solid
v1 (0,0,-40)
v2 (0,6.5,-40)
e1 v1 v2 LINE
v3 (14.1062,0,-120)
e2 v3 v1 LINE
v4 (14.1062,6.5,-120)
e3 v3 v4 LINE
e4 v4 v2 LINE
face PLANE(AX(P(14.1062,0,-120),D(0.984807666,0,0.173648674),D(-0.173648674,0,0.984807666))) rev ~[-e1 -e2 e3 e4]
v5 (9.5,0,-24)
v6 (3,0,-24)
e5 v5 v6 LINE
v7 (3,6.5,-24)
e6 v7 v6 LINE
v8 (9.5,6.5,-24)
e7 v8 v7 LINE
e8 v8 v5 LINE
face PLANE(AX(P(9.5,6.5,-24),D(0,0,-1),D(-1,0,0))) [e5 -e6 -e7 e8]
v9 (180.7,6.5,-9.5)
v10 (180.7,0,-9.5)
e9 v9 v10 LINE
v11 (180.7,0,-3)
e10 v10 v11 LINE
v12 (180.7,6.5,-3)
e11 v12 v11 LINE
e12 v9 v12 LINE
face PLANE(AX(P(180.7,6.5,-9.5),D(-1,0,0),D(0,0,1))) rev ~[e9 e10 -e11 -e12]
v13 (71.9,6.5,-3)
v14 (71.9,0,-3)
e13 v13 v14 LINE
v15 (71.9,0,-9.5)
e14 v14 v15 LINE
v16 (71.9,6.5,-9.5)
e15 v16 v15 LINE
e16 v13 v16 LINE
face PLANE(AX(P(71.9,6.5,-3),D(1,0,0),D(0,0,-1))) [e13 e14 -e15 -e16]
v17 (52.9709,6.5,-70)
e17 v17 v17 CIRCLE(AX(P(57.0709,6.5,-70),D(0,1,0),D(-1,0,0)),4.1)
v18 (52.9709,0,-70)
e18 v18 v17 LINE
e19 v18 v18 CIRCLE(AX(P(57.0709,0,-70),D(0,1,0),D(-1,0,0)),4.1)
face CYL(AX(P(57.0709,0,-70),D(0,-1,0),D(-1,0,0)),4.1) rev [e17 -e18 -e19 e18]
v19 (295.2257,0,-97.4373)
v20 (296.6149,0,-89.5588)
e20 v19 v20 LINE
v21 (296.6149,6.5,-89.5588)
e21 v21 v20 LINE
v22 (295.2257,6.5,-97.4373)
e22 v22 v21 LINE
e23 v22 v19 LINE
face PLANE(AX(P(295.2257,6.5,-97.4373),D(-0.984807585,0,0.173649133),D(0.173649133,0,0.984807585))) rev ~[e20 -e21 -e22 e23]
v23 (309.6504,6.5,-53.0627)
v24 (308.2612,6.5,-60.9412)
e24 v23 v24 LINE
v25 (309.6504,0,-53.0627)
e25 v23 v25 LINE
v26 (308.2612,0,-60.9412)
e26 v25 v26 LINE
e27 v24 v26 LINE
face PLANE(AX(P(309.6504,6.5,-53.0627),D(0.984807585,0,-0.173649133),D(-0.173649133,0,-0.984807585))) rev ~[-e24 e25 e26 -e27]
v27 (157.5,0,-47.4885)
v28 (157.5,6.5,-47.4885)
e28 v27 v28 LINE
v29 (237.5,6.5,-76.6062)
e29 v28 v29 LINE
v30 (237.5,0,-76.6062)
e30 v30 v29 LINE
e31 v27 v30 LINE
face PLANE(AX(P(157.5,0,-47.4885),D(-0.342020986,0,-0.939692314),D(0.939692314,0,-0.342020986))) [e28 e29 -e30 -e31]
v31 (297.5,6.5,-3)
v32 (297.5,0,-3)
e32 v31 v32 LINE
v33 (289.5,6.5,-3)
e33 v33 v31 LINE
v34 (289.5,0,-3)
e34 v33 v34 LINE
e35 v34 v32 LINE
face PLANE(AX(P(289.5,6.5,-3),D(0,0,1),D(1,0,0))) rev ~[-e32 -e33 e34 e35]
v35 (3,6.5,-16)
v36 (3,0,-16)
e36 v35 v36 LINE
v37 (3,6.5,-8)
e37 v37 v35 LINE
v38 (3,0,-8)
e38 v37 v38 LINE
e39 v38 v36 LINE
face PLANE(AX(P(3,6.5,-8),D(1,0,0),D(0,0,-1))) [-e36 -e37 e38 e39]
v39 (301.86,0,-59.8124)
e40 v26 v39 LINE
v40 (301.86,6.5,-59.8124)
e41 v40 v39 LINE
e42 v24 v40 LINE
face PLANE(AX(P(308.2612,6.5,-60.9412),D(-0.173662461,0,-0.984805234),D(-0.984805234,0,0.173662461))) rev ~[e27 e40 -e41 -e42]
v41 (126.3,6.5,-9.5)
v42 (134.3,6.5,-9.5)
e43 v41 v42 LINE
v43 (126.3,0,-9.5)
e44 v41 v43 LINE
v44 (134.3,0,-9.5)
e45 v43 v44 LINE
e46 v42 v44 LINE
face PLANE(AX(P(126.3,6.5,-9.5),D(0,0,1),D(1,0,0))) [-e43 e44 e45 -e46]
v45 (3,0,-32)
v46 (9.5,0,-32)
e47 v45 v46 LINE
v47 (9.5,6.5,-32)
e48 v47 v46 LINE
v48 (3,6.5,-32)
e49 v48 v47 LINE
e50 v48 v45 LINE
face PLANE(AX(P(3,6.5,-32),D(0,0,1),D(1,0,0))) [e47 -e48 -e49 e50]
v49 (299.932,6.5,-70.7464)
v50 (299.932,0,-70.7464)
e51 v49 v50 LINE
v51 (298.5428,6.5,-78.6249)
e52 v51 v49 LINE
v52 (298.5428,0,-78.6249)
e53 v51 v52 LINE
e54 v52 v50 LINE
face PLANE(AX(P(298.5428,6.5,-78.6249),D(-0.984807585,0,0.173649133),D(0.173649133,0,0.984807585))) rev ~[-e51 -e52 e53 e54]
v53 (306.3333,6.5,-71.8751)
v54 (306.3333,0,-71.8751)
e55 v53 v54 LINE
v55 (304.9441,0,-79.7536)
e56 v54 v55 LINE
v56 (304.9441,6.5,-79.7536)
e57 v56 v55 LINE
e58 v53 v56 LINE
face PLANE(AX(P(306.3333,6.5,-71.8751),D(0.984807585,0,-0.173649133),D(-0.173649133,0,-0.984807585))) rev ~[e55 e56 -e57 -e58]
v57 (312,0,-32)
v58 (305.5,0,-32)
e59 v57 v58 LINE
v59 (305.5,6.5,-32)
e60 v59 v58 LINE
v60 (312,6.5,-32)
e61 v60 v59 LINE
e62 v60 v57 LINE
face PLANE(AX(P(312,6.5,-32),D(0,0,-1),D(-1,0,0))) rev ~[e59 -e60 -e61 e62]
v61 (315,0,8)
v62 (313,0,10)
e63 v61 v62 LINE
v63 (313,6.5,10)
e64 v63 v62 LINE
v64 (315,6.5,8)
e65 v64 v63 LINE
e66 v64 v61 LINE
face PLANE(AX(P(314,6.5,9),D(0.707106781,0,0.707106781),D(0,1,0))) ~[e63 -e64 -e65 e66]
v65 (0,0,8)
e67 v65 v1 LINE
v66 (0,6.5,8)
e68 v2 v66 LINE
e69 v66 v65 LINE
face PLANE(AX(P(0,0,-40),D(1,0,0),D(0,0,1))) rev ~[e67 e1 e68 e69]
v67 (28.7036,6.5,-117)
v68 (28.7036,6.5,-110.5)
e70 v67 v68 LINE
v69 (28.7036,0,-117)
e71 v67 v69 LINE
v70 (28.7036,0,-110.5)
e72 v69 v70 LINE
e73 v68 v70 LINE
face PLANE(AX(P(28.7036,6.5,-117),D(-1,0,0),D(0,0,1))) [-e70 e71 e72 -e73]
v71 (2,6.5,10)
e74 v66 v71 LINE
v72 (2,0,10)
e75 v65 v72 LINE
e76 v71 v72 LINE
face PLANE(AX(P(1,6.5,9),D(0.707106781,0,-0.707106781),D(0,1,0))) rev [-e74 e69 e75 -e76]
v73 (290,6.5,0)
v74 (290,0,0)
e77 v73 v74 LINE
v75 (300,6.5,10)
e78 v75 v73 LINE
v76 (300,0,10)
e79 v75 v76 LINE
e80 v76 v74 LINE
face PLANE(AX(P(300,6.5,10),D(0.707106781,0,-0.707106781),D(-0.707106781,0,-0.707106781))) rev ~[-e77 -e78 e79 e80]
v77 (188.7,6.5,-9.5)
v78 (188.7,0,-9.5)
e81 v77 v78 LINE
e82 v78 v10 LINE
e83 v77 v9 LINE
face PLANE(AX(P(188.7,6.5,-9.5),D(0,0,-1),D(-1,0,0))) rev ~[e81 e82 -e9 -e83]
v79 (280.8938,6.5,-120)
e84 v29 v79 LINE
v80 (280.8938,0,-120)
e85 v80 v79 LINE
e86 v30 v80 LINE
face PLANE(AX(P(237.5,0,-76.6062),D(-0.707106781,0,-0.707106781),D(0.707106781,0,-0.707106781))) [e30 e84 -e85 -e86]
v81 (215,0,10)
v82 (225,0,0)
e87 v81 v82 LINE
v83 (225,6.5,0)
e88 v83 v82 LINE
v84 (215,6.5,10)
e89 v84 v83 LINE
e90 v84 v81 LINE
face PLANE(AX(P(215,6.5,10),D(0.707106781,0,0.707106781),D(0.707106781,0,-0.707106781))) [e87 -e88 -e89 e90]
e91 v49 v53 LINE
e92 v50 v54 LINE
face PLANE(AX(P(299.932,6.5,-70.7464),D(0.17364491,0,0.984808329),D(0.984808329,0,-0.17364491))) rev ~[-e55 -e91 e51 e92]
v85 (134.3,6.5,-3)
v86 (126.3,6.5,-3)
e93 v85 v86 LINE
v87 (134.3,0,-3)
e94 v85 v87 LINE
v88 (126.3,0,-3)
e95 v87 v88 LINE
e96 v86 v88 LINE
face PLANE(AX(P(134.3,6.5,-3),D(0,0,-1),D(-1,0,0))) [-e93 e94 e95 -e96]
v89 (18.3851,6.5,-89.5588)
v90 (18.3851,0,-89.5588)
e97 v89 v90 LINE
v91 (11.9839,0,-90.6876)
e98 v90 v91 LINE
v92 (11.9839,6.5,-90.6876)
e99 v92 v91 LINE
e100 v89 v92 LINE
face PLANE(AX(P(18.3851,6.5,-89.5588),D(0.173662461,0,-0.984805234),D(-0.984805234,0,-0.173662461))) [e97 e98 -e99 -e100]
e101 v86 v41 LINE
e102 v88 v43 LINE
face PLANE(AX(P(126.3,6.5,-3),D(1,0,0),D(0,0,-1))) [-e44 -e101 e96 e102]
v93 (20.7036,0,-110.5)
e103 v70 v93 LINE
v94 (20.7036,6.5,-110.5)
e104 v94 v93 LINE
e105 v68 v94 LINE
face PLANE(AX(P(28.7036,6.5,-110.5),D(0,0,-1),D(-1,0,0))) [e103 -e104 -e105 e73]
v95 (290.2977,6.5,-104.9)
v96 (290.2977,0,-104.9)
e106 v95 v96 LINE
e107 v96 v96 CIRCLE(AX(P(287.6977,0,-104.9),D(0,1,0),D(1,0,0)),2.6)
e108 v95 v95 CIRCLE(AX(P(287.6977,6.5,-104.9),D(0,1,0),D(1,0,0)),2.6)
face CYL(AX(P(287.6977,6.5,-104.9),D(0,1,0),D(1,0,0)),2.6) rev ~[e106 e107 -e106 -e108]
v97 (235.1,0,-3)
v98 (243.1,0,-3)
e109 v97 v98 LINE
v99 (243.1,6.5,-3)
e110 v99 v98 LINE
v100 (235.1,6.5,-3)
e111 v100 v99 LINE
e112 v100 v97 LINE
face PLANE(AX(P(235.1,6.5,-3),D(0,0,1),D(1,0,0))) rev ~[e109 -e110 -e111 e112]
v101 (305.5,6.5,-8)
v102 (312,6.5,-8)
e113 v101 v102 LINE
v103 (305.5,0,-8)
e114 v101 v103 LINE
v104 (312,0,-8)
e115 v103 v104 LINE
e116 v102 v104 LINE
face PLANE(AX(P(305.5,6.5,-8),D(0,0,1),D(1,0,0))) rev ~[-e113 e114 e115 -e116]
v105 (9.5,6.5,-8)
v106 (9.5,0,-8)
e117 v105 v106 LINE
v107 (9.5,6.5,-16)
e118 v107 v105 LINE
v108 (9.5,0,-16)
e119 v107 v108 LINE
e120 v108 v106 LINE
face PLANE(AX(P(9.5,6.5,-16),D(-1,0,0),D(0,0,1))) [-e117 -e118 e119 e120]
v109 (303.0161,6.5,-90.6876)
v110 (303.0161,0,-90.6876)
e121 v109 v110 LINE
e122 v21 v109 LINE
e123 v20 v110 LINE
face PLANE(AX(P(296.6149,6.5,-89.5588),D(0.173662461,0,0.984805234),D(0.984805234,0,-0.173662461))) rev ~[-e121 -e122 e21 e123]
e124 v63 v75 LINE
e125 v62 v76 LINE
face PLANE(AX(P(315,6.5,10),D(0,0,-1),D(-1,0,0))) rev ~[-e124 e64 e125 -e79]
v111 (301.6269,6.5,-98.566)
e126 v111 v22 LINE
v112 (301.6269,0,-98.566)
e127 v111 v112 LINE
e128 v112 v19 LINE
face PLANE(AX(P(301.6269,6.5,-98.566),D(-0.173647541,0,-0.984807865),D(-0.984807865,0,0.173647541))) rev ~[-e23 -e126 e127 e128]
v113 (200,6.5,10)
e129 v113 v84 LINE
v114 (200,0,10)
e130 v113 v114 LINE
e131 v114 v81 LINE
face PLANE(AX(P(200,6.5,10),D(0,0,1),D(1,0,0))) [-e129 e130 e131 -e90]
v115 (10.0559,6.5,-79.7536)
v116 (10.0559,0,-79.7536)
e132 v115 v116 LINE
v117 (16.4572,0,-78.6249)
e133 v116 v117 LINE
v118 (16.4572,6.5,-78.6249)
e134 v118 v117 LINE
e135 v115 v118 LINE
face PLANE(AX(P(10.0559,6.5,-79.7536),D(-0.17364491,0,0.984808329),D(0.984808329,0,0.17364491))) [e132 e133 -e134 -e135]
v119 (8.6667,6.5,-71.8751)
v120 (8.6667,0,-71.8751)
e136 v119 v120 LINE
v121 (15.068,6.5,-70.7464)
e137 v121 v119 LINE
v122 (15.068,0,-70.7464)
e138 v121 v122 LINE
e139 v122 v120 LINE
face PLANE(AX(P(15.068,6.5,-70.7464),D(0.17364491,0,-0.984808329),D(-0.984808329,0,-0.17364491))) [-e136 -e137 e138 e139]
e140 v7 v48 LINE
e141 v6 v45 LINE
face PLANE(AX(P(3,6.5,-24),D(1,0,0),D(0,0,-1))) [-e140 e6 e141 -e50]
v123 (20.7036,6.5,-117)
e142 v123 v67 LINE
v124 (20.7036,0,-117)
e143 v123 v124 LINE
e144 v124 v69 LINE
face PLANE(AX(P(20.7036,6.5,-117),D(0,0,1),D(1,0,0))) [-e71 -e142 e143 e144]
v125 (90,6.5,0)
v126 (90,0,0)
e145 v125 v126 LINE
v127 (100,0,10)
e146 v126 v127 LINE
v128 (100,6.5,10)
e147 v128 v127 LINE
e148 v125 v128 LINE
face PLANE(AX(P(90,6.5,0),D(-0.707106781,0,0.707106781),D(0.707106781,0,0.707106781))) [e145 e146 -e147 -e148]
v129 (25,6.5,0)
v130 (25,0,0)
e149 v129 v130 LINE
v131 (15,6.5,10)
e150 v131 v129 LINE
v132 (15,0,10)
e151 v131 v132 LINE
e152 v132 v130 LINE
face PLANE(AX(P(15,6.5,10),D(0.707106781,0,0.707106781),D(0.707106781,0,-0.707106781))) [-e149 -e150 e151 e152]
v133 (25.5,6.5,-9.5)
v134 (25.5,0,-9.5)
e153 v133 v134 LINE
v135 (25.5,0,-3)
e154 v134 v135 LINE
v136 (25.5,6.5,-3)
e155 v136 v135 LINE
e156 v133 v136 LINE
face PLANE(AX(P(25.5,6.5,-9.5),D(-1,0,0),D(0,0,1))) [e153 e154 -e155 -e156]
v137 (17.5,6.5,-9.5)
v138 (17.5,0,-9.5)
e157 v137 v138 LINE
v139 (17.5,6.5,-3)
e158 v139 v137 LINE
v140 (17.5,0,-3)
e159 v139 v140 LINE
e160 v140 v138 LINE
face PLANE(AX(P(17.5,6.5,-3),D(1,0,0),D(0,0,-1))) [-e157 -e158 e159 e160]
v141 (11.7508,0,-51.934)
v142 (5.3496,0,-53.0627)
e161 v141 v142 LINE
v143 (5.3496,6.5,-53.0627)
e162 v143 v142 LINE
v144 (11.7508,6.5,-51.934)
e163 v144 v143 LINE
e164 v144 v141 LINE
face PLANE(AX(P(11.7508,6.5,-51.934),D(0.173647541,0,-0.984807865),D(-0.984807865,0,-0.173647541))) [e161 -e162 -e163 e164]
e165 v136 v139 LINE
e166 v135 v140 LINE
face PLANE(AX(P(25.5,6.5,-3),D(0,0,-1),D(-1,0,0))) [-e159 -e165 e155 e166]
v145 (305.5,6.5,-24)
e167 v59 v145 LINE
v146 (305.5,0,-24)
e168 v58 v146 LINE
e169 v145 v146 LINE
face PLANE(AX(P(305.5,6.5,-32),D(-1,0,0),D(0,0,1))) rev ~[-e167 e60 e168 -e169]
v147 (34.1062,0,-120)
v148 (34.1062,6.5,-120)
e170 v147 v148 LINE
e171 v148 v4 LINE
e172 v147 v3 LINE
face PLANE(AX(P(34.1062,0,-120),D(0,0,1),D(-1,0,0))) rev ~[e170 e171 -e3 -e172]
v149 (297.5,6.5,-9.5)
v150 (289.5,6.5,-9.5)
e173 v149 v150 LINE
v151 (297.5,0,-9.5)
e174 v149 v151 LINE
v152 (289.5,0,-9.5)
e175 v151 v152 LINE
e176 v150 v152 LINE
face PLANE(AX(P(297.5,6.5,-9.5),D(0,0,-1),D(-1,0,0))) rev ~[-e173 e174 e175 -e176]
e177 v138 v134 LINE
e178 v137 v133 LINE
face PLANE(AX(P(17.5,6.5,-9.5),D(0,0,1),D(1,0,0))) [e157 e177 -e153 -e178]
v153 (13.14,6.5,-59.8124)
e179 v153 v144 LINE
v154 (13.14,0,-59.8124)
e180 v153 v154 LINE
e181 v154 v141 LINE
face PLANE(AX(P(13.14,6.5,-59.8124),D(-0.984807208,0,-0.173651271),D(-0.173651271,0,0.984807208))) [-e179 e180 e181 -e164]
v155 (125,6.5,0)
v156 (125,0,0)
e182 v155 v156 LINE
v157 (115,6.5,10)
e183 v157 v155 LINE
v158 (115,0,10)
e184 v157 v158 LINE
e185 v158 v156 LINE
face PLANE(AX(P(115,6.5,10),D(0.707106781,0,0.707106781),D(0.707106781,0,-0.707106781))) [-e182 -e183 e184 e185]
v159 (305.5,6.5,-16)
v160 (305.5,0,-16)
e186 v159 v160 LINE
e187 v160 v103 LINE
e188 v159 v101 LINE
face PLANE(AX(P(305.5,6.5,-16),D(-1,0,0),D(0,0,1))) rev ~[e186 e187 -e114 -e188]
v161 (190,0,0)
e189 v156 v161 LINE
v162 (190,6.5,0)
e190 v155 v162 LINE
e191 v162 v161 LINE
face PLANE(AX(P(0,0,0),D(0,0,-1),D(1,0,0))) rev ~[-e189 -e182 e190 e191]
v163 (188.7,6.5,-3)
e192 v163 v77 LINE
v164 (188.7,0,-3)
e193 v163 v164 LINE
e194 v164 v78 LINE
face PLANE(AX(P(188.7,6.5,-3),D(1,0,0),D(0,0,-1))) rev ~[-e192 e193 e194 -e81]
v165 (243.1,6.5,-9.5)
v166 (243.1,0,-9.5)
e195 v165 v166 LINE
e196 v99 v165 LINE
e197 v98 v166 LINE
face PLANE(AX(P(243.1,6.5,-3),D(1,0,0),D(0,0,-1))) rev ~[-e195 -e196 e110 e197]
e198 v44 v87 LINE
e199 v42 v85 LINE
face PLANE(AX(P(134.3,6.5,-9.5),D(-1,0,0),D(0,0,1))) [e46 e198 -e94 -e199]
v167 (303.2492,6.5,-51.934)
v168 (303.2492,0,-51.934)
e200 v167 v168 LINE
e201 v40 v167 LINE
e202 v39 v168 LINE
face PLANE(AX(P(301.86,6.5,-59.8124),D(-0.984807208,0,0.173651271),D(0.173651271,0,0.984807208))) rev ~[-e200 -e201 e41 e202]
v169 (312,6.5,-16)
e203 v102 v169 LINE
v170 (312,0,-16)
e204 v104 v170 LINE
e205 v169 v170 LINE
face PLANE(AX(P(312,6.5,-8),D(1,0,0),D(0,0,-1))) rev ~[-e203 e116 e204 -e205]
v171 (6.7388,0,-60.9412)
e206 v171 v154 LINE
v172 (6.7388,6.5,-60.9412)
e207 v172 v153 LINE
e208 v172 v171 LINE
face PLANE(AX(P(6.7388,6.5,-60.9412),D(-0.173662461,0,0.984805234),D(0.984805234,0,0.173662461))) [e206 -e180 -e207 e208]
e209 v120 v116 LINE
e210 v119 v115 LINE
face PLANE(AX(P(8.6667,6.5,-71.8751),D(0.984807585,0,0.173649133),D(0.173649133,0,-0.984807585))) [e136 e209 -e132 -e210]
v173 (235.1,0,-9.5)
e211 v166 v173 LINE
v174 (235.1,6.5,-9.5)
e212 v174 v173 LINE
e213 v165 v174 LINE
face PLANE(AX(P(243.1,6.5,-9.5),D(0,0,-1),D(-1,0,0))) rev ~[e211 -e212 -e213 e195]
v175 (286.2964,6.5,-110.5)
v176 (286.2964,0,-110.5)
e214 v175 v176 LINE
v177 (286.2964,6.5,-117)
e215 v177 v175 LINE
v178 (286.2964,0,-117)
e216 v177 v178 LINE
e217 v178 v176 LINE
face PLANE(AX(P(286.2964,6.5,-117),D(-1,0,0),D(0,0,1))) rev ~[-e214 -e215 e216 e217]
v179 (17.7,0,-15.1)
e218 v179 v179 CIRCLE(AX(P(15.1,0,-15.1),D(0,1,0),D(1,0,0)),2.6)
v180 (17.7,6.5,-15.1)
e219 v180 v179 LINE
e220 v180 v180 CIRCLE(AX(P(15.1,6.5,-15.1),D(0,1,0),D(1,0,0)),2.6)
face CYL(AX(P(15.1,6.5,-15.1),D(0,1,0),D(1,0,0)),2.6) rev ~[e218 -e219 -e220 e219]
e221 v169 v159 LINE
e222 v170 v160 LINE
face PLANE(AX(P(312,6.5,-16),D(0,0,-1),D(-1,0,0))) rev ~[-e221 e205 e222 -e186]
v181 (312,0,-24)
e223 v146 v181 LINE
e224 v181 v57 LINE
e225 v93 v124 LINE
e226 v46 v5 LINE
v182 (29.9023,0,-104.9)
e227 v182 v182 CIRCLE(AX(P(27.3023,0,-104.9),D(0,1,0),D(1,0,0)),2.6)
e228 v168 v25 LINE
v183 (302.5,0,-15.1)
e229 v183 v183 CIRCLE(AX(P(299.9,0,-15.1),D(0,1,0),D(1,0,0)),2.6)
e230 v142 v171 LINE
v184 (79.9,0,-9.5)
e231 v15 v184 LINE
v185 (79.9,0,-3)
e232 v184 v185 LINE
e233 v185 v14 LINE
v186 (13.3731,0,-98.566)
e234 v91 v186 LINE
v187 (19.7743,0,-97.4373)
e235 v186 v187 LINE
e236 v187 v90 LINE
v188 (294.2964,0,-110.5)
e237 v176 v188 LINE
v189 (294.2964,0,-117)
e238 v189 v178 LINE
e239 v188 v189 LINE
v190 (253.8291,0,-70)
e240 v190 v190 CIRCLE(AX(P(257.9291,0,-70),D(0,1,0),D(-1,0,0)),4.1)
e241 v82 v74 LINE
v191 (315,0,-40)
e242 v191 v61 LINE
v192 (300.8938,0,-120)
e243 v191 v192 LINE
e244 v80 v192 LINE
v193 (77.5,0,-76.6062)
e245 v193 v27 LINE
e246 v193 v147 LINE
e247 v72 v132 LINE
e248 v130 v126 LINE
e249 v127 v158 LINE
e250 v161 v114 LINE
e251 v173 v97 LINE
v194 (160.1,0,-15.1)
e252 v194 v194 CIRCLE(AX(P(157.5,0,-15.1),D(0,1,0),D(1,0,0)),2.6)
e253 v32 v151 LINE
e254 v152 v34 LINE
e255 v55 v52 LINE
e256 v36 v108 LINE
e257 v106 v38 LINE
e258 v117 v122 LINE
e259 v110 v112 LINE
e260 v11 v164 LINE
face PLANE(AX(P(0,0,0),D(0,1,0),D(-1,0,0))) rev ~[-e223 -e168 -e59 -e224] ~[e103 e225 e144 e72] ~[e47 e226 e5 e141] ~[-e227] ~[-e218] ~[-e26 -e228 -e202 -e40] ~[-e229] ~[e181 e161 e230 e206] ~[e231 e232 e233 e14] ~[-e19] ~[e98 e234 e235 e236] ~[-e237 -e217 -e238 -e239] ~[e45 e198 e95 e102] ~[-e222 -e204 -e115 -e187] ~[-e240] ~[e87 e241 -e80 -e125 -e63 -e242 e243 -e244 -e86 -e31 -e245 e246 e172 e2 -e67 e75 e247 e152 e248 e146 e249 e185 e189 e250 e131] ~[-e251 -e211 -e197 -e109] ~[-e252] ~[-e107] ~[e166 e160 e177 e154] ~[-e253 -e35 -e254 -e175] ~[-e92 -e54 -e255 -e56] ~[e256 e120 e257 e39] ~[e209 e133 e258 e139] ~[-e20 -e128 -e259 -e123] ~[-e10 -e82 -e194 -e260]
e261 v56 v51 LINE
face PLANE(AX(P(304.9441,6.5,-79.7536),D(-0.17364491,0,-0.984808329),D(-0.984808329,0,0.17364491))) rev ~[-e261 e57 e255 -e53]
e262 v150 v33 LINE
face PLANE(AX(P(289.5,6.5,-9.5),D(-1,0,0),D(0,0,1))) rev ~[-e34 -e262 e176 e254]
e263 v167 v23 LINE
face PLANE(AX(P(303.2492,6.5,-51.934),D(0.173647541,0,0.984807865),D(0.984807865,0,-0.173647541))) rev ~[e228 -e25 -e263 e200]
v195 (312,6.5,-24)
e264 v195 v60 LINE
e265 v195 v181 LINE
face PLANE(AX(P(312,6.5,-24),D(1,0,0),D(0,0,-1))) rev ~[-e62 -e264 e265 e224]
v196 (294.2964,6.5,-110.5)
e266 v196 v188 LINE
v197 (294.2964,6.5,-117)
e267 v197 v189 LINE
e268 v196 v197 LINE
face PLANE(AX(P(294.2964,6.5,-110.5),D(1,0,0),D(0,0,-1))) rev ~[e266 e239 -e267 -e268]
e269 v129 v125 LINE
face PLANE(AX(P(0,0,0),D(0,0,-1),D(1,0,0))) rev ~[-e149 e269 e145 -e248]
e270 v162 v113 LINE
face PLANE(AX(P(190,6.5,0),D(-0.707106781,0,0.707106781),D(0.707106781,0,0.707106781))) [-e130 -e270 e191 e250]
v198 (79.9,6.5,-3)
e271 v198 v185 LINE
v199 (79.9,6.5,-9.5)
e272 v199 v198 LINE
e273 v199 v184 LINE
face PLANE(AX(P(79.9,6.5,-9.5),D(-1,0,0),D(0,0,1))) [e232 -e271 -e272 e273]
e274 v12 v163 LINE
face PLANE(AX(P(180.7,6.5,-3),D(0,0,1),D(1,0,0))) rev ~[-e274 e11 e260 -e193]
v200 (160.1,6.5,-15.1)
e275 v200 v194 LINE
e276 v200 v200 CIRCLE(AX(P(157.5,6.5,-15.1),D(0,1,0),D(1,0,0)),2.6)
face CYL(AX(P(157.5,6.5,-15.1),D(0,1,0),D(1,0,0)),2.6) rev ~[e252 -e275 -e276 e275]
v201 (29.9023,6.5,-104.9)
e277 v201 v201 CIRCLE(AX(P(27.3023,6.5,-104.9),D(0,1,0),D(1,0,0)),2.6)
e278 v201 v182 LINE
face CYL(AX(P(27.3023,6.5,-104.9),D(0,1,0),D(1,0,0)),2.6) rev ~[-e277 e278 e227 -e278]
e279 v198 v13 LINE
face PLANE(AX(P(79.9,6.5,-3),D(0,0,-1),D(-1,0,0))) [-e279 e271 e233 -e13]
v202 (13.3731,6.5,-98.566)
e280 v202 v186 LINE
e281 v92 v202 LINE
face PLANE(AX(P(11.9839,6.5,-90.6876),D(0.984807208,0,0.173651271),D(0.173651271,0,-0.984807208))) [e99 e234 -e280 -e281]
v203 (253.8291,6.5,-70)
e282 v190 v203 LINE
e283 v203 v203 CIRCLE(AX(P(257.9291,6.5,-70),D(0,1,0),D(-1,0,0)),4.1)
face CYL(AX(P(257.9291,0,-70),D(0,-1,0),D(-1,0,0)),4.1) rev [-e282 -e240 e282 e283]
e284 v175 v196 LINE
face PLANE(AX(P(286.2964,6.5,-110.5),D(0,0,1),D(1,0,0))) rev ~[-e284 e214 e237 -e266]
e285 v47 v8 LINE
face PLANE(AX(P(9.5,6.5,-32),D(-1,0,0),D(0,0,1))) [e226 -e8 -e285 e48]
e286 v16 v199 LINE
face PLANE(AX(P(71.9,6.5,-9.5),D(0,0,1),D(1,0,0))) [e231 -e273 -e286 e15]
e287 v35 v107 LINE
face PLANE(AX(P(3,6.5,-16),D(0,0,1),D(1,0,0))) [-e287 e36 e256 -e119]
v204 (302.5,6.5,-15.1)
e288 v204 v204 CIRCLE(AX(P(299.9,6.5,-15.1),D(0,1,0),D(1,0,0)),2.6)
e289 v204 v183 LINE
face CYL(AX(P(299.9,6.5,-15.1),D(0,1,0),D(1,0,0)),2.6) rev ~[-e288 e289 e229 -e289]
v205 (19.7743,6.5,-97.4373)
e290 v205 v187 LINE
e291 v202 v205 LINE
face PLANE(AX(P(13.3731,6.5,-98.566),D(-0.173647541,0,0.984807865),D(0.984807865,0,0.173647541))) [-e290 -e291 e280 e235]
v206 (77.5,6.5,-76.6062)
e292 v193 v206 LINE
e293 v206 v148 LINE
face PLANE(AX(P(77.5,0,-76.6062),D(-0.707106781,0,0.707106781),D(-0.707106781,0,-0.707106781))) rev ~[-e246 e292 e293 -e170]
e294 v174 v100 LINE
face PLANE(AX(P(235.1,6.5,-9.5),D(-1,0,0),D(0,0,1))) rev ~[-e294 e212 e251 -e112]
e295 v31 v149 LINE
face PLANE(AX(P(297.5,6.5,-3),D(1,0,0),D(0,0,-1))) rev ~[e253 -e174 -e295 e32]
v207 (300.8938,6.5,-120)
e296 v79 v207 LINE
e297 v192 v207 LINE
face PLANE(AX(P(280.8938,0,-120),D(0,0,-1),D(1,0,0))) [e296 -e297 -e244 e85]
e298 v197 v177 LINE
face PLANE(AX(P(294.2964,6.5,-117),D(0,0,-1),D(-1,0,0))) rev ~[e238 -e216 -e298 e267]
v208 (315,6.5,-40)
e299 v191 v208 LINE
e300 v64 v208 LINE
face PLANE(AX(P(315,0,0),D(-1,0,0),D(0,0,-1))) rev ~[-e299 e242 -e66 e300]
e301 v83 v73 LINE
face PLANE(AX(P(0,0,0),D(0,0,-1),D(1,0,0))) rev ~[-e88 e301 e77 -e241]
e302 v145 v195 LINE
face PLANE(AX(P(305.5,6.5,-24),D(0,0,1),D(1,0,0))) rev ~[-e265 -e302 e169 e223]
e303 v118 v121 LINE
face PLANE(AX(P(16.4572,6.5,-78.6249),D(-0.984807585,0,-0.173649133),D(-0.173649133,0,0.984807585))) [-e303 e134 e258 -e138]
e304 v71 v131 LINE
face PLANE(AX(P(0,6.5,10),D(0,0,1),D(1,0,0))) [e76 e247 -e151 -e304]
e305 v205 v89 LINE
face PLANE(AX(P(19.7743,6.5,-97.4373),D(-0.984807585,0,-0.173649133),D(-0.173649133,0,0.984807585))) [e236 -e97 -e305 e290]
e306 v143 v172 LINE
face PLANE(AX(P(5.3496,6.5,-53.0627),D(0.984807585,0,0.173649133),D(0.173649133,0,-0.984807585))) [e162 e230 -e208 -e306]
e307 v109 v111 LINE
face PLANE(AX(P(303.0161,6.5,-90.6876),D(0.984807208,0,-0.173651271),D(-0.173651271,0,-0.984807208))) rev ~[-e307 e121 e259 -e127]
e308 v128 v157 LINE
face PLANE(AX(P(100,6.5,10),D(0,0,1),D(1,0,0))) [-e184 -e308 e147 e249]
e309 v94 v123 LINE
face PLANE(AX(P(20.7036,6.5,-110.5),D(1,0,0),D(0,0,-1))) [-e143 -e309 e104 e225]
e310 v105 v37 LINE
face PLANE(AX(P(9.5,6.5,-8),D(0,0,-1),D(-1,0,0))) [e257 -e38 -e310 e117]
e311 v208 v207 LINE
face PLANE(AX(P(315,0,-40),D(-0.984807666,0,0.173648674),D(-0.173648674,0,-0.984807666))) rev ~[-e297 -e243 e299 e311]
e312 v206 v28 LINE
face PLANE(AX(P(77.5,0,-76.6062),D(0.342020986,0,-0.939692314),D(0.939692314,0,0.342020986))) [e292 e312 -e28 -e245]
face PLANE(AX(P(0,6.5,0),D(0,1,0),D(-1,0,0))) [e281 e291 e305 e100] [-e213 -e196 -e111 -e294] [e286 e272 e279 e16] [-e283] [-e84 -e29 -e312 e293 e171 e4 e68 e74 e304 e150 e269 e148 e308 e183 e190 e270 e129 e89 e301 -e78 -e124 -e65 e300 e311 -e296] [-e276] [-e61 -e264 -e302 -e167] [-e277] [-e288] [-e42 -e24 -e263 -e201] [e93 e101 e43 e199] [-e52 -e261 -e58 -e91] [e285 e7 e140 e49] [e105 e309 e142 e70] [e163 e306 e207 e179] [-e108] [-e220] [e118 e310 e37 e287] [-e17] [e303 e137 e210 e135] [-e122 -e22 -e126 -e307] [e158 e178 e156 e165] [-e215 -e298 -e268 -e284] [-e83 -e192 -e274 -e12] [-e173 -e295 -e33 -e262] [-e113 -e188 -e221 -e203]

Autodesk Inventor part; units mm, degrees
ref_plane "YZ Plane" through (0, 0, 0) normal (1, 0, 0) x (0, 1, 0)
ref_plane "XZ Plane" through (0, 0, 0) normal (0, 1, 0) x (-1, 0, 0)
ref_plane "XY Plane" through (0, 0, 0) normal (0, 0, 1) x (1, 0, 0)
sketch "Sketch1" plane through (0, 0, 0) normal (0, 1, 0) x (-1, 0, 0)
  line L0 (-77.5, -76.6062) -> (-157.5, -47.4885)
  line L1 (-157.5, -47.4885) -> (-237.5, -76.6062)
  line L2 (-77.5, -76.6062) -> (-34.1062, -120)
  line L3 (-237.5, -76.6062) -> (-280.8938, -120)
  circle A0 centre (-157.5, -172.5) radius 132.5 construction
  line L4 (-280.8938, -120) -> (-300.8938, -120)
  line L5 (-34.1062, -120) -> (-14.1062, -120)
  circle A1 centre (-57.0709, -70) radius 11 construction
  circle A2 centre (-257.9291, -70) radius 11 construction
  line L6 (-14.1062, -120) -> (0, -40)
  line L7 (0, -40) -> (0, 0)
  line L8 (0, 0) -> (-315, 0)
  line L9 (-315, 0) -> (-315, -40)
  line L10 (-315, -40) -> (-300.8938, -120)
  circle A3 centre (-57.0709, -70) radius 4.1
  circle A4 centre (-257.9291, -70) radius 4.1
  dimension "d0" = 140
  dimension "d1" = 90
  dimension "d2" = 160
  dimension "d3" = 265
  dimension "d4" = 20
  dimension "d5" = 22
  dimension "d6" = 40
  dimension "d7" = 10
  dimension "d8" = 10
  dimension "d9" = 80
  dimension "d10" = 172.5
  dimension "d11" = 315
  dimension "d12" = 8.2
  dimension "d13" = 70
extrude "Extrusion1" add sketch "Sketch1" along normal blind 6.5
sketch "Sketch4" plane through (0, 6.5, 0) normal (0, 1, 0) x (1, 0, 0)
  line L0 (0, 40) -> (0, 0) projected
  line L1 (0, 0) -> (315, 0) projected
  line L2 (315, 0) -> (315, 40) projected
  line L3 (34.1062, 120) -> (14.1062, 120) projected
  line L4 (14.1062, 120) -> (0, 40) projected
  line L5 (9.5, 9.5) -> (305.5, 9.5) construction
  line L6 (305.5, 9.5) -> (305.5, 3) construction
  line L7 (305.5, 3) -> (9.5, 3) construction
  line L8 (9.5, 3) -> (9.5, 9.5) construction
  line L9 (15.301, 117) -> (34.1062, 117) construction
  line L10 (34.1062, 117) -> (34.1062, 110.5) construction
  line L11 (34.1062, 110.5) -> (15.301, 110.5) construction
  line L12 (15.301, 110.5) -> (15.301, 117) construction
  line L13 (3, 40) -> (9.5, 40) construction
  line L14 (9.5, 40) -> (9.5, 0) construction
  line L15 (9.5, 0) -> (3, 0) construction
  line L16 (3, 0) -> (3, 40) construction
  line L17 (15.301, 109.5) -> (21.7023, 108.3713) construction
  line L18 (21.7023, 108.3713) -> (9.8229, 41) construction
  line L19 (9.8229, 41) -> (3.4216, 42.1287) construction
  line L20 (3.4216, 42.1287) -> (15.301, 109.5) construction
  line L21 (157.5, 47.4885) -> (157.5, 0) construction
  line L22 (17.5, 9.5) -> (25.5, 9.5)
  line L23 (25.5, 9.5) -> (25.5, 3)
  line L24 (25.5, 3) -> (17.5, 3)
  line L25 (17.5, 3) -> (17.5, 9.5)
  line L26 (71.9, 9.5) -> (79.9, 9.5)
  line L27 (79.9, 9.5) -> (79.9, 3)
  line L28 (79.9, 3) -> (71.9, 3)
  line L29 (71.9, 3) -> (71.9, 9.5)
  line L30 (126.3, 9.5) -> (134.3, 9.5)
  line L31 (134.3, 9.5) -> (134.3, 3)
  line L32 (134.3, 3) -> (126.3, 3)
  line L33 (126.3, 3) -> (126.3, 9.5)
  line L34 (3, 32) -> (9.5, 32)
  line L35 (9.5, 32) -> (9.5, 24)
  line L36 (9.5, 24) -> (3, 24)
  line L37 (3, 24) -> (3, 32)
  line L38 (3, 16) -> (9.5, 16)
  line L39 (9.5, 16) -> (9.5, 8)
  line L40 (9.5, 8) -> (3, 8)
  line L41 (3, 8) -> (3, 16)
  line L42 (20.7036, 117) -> (28.7036, 117)
  line L43 (28.7036, 117) -> (28.7036, 110.5)
  line L44 (28.7036, 110.5) -> (20.7036, 110.5)
  line L45 (20.7036, 110.5) -> (20.7036, 117)
  line L46 (13.3731, 98.566) -> (19.7743, 97.4373)
  line L47 (19.7743, 97.4373) -> (18.3851, 89.5588)
  line L48 (18.3851, 89.5588) -> (11.9839, 90.6876)
  line L49 (11.9839, 90.6876) -> (13.3731, 98.566)
  line L50 (10.0559, 79.7536) -> (16.4572, 78.6249)
  line L51 (16.4572, 78.6249) -> (15.068, 70.7464)
  line L52 (15.068, 70.7464) -> (8.6667, 71.8751)
  line L53 (8.6667, 71.8751) -> (10.0559, 79.7536)
  line L54 (6.7388, 60.9412) -> (13.14, 59.8124)
  line L55 (13.14, 59.8124) -> (11.7508, 51.934)
  line L56 (11.7508, 51.934) -> (5.3496, 53.0627)
  line L57 (5.3496, 53.0627) -> (6.7388, 60.9412)
  line L58 (9.9394, 60.3768) -> (11.8673, 71.3108) construction
  line L59 (8.5502, 52.4983) -> (6.6223, 41.5644) construction
  line L60 (13.2565, 79.1892) -> (15.1845, 90.1232) construction
  line L61 (16.5737, 98.0017) -> (18.5016, 108.9356) construction
  line L62 (6.25, 40) -> (6.25, 32) construction
  line L63 (6.25, 24) -> (6.25, 16) construction
  line L64 (6.25, 8) -> (6.25, 0) construction
  line L65 (25.5, 6.25) -> (71.9, 6.25) construction
  line L66 (79.9, 6.25) -> (126.3, 6.25) construction
  line L67 (134.3, 6.25) -> (180.7, 6.25) construction
  line L68 (297.5, 9.5) -> (289.5, 9.5)
  line L69 (289.5, 9.5) -> (289.5, 3)
  line L70 (289.5, 3) -> (297.5, 3)
  line L71 (297.5, 3) -> (297.5, 9.5)
  line L72 (243.1, 9.5) -> (235.1, 9.5)
  line L73 (235.1, 9.5) -> (235.1, 3)
  line L74 (235.1, 3) -> (243.1, 3)
  line L75 (243.1, 3) -> (243.1, 9.5)
  line L76 (188.7, 9.5) -> (180.7, 9.5)
  line L77 (180.7, 9.5) -> (180.7, 3)
  line L78 (180.7, 3) -> (188.7, 3)
  line L79 (188.7, 3) -> (188.7, 9.5)
  line L80 (312, 32) -> (305.5, 32)
  line L81 (305.5, 32) -> (305.5, 24)
  line L82 (305.5, 24) -> (312, 24)
  line L83 (312, 24) -> (312, 32)
  line L84 (312, 16) -> (305.5, 16)
  line L85 (305.5, 16) -> (305.5, 8)
  line L86 (305.5, 8) -> (312, 8)
  line L87 (312, 8) -> (312, 16)
  line L88 (294.2964, 117) -> (286.2964, 117)
  line L89 (286.2964, 117) -> (286.2964, 110.5)
  line L90 (286.2964, 110.5) -> (294.2964, 110.5)
  line L91 (294.2964, 110.5) -> (294.2964, 117)
  line L92 (301.6269, 98.566) -> (295.2257, 97.4373)
  line L93 (295.2257, 97.4373) -> (296.6149, 89.5588)
  line L94 (296.6149, 89.5588) -> (303.0161, 90.6876)
  line L95 (303.0161, 90.6876) -> (301.6269, 98.566)
  line L96 (304.9441, 79.7536) -> (298.5428, 78.6249)
  line L97 (298.5428, 78.6249) -> (299.932, 70.7464)
  line L98 (299.932, 70.7464) -> (306.3333, 71.8751)
  line L99 (306.3333, 71.8751) -> (304.9441, 79.7536)
  line L100 (308.2612, 60.9412) -> (301.86, 59.8124)
  line L101 (301.86, 59.8124) -> (303.2492, 51.934)
  line L102 (303.2492, 51.934) -> (309.6504, 53.0627)
  line L103 (309.6504, 53.0627) -> (308.2612, 60.9412)
  circle A0 centre (27.3023, 104.9) radius 2.6
  circle A1 centre (15.1, 15.1) radius 2.6
  circle A2 centre (157.5, 15.1) radius 2.6
  circle A3 centre (287.6977, 104.9) radius 2.6
  circle A4 centre (299.9, 15.1) radius 2.6
  point P0 (24.7036, 117)
  point P1 (24.7036, 117)
  point P2 (157.5, 6.25)
  point P3 (290.2964, 117)
  point P4 (290.2964, 117)
  point P5 (305.0606, 60.3768)
  point P6 (303.1327, 71.3108)
  point P7 (306.4498, 52.4983)
  point P8 (301.7435, 79.1892)
  point P9 (299.8155, 90.1232)
  point P10 (298.4263, 98.0017)
  point P11 (296.4984, 108.9356)
  point P12 (308.75, 32)
  point P13 (308.75, 24)
  point P14 (308.75, 16)
  point P15 (308.75, 8)
  point P16 (289.5, 6.25)
  point P17 (243.1, 6.25)
  point P18 (235.1, 6.25)
  point P19 (188.7, 6.25)
  dimension "d17" = 9.5
  dimension "d18" = 3
  dimension "d19" = 6.5
  dimension "d20" = 3
  dimension "d21" = 3
  dimension "d23" = 1
  dimension "d24" = 1
  dimension "d25" = 3
  dimension "d26" = 8
  dimension "d27" = 8
  dimension "d28" = 5.2
  dimension "d29" = 5.6
  dimension "d30" = 5.6
  dimension "d31" = 5.6
  dimension "d32" = 5.6
extrude "Extrusion2" cut sketch "Sketch4" against normal through all
sketch "Sketch5" plane through (0, 6.5, 0) normal (0, 1, 0) x (1, 0, 0)
  line L0 (0, 0) -> (315, 0) projected
  line L1 (34.1062, 120) -> (14.1062, 120) projected
  line L2 (0, 0) -> (0, -10)
  line L3 (0, -10) -> (15, -10)
  line L4 (15, -10) -> (25, 0)
  line L5 (25, 0) -> (0, 0)
  line L6 (90, 0) -> (100, -10)
  line L7 (100, -10) -> (115, -10)
  line L8 (115, -10) -> (125, 0)
  line L9 (125, 0) -> (90, 0)
  line L10 (190, 0) -> (200, -10)
  line L11 (200, -10) -> (215, -10)
  line L12 (215, -10) -> (225, 0)
  line L13 (315, 0) -> (315, -10)
  line L14 (315, -10) -> (300, -10)
  line L15 (300, -10) -> (290, 0)
  line L16 (20, -5) -> (95, -5) construction
  line L17 (120, -5) -> (195, -5) construction
  line L18 (220, -5) -> (295, -5) construction
  dimension "d35" = 10
  dimension "d36" = 45
  dimension "d37" = 15
  dimension "d38" = 15
  dimension "d39" = 15
  dimension "d40" = 15
extrude "Extrusion3" add sketch "Sketch5" against normal blind 6.5
chamfer "Chamfer1" distance 2 angle 45 2 edges at (0, 3.25, 10) (315, 3.25, 10)
equation "\"d8\" = d7"
equation "\"d17\" = d16 + d19"
equation "\"d18\" = d16"
equation "\"d31\" = d30"
equation "\"d32\" = d31"
equation "\"d38\" = d37"
equation "\"d39\" = d38"
equation "\"d40\" = d39"
equation "\"d16\" = 3"
properties part number "spool_stand_right" material "Plywood, Finish"
